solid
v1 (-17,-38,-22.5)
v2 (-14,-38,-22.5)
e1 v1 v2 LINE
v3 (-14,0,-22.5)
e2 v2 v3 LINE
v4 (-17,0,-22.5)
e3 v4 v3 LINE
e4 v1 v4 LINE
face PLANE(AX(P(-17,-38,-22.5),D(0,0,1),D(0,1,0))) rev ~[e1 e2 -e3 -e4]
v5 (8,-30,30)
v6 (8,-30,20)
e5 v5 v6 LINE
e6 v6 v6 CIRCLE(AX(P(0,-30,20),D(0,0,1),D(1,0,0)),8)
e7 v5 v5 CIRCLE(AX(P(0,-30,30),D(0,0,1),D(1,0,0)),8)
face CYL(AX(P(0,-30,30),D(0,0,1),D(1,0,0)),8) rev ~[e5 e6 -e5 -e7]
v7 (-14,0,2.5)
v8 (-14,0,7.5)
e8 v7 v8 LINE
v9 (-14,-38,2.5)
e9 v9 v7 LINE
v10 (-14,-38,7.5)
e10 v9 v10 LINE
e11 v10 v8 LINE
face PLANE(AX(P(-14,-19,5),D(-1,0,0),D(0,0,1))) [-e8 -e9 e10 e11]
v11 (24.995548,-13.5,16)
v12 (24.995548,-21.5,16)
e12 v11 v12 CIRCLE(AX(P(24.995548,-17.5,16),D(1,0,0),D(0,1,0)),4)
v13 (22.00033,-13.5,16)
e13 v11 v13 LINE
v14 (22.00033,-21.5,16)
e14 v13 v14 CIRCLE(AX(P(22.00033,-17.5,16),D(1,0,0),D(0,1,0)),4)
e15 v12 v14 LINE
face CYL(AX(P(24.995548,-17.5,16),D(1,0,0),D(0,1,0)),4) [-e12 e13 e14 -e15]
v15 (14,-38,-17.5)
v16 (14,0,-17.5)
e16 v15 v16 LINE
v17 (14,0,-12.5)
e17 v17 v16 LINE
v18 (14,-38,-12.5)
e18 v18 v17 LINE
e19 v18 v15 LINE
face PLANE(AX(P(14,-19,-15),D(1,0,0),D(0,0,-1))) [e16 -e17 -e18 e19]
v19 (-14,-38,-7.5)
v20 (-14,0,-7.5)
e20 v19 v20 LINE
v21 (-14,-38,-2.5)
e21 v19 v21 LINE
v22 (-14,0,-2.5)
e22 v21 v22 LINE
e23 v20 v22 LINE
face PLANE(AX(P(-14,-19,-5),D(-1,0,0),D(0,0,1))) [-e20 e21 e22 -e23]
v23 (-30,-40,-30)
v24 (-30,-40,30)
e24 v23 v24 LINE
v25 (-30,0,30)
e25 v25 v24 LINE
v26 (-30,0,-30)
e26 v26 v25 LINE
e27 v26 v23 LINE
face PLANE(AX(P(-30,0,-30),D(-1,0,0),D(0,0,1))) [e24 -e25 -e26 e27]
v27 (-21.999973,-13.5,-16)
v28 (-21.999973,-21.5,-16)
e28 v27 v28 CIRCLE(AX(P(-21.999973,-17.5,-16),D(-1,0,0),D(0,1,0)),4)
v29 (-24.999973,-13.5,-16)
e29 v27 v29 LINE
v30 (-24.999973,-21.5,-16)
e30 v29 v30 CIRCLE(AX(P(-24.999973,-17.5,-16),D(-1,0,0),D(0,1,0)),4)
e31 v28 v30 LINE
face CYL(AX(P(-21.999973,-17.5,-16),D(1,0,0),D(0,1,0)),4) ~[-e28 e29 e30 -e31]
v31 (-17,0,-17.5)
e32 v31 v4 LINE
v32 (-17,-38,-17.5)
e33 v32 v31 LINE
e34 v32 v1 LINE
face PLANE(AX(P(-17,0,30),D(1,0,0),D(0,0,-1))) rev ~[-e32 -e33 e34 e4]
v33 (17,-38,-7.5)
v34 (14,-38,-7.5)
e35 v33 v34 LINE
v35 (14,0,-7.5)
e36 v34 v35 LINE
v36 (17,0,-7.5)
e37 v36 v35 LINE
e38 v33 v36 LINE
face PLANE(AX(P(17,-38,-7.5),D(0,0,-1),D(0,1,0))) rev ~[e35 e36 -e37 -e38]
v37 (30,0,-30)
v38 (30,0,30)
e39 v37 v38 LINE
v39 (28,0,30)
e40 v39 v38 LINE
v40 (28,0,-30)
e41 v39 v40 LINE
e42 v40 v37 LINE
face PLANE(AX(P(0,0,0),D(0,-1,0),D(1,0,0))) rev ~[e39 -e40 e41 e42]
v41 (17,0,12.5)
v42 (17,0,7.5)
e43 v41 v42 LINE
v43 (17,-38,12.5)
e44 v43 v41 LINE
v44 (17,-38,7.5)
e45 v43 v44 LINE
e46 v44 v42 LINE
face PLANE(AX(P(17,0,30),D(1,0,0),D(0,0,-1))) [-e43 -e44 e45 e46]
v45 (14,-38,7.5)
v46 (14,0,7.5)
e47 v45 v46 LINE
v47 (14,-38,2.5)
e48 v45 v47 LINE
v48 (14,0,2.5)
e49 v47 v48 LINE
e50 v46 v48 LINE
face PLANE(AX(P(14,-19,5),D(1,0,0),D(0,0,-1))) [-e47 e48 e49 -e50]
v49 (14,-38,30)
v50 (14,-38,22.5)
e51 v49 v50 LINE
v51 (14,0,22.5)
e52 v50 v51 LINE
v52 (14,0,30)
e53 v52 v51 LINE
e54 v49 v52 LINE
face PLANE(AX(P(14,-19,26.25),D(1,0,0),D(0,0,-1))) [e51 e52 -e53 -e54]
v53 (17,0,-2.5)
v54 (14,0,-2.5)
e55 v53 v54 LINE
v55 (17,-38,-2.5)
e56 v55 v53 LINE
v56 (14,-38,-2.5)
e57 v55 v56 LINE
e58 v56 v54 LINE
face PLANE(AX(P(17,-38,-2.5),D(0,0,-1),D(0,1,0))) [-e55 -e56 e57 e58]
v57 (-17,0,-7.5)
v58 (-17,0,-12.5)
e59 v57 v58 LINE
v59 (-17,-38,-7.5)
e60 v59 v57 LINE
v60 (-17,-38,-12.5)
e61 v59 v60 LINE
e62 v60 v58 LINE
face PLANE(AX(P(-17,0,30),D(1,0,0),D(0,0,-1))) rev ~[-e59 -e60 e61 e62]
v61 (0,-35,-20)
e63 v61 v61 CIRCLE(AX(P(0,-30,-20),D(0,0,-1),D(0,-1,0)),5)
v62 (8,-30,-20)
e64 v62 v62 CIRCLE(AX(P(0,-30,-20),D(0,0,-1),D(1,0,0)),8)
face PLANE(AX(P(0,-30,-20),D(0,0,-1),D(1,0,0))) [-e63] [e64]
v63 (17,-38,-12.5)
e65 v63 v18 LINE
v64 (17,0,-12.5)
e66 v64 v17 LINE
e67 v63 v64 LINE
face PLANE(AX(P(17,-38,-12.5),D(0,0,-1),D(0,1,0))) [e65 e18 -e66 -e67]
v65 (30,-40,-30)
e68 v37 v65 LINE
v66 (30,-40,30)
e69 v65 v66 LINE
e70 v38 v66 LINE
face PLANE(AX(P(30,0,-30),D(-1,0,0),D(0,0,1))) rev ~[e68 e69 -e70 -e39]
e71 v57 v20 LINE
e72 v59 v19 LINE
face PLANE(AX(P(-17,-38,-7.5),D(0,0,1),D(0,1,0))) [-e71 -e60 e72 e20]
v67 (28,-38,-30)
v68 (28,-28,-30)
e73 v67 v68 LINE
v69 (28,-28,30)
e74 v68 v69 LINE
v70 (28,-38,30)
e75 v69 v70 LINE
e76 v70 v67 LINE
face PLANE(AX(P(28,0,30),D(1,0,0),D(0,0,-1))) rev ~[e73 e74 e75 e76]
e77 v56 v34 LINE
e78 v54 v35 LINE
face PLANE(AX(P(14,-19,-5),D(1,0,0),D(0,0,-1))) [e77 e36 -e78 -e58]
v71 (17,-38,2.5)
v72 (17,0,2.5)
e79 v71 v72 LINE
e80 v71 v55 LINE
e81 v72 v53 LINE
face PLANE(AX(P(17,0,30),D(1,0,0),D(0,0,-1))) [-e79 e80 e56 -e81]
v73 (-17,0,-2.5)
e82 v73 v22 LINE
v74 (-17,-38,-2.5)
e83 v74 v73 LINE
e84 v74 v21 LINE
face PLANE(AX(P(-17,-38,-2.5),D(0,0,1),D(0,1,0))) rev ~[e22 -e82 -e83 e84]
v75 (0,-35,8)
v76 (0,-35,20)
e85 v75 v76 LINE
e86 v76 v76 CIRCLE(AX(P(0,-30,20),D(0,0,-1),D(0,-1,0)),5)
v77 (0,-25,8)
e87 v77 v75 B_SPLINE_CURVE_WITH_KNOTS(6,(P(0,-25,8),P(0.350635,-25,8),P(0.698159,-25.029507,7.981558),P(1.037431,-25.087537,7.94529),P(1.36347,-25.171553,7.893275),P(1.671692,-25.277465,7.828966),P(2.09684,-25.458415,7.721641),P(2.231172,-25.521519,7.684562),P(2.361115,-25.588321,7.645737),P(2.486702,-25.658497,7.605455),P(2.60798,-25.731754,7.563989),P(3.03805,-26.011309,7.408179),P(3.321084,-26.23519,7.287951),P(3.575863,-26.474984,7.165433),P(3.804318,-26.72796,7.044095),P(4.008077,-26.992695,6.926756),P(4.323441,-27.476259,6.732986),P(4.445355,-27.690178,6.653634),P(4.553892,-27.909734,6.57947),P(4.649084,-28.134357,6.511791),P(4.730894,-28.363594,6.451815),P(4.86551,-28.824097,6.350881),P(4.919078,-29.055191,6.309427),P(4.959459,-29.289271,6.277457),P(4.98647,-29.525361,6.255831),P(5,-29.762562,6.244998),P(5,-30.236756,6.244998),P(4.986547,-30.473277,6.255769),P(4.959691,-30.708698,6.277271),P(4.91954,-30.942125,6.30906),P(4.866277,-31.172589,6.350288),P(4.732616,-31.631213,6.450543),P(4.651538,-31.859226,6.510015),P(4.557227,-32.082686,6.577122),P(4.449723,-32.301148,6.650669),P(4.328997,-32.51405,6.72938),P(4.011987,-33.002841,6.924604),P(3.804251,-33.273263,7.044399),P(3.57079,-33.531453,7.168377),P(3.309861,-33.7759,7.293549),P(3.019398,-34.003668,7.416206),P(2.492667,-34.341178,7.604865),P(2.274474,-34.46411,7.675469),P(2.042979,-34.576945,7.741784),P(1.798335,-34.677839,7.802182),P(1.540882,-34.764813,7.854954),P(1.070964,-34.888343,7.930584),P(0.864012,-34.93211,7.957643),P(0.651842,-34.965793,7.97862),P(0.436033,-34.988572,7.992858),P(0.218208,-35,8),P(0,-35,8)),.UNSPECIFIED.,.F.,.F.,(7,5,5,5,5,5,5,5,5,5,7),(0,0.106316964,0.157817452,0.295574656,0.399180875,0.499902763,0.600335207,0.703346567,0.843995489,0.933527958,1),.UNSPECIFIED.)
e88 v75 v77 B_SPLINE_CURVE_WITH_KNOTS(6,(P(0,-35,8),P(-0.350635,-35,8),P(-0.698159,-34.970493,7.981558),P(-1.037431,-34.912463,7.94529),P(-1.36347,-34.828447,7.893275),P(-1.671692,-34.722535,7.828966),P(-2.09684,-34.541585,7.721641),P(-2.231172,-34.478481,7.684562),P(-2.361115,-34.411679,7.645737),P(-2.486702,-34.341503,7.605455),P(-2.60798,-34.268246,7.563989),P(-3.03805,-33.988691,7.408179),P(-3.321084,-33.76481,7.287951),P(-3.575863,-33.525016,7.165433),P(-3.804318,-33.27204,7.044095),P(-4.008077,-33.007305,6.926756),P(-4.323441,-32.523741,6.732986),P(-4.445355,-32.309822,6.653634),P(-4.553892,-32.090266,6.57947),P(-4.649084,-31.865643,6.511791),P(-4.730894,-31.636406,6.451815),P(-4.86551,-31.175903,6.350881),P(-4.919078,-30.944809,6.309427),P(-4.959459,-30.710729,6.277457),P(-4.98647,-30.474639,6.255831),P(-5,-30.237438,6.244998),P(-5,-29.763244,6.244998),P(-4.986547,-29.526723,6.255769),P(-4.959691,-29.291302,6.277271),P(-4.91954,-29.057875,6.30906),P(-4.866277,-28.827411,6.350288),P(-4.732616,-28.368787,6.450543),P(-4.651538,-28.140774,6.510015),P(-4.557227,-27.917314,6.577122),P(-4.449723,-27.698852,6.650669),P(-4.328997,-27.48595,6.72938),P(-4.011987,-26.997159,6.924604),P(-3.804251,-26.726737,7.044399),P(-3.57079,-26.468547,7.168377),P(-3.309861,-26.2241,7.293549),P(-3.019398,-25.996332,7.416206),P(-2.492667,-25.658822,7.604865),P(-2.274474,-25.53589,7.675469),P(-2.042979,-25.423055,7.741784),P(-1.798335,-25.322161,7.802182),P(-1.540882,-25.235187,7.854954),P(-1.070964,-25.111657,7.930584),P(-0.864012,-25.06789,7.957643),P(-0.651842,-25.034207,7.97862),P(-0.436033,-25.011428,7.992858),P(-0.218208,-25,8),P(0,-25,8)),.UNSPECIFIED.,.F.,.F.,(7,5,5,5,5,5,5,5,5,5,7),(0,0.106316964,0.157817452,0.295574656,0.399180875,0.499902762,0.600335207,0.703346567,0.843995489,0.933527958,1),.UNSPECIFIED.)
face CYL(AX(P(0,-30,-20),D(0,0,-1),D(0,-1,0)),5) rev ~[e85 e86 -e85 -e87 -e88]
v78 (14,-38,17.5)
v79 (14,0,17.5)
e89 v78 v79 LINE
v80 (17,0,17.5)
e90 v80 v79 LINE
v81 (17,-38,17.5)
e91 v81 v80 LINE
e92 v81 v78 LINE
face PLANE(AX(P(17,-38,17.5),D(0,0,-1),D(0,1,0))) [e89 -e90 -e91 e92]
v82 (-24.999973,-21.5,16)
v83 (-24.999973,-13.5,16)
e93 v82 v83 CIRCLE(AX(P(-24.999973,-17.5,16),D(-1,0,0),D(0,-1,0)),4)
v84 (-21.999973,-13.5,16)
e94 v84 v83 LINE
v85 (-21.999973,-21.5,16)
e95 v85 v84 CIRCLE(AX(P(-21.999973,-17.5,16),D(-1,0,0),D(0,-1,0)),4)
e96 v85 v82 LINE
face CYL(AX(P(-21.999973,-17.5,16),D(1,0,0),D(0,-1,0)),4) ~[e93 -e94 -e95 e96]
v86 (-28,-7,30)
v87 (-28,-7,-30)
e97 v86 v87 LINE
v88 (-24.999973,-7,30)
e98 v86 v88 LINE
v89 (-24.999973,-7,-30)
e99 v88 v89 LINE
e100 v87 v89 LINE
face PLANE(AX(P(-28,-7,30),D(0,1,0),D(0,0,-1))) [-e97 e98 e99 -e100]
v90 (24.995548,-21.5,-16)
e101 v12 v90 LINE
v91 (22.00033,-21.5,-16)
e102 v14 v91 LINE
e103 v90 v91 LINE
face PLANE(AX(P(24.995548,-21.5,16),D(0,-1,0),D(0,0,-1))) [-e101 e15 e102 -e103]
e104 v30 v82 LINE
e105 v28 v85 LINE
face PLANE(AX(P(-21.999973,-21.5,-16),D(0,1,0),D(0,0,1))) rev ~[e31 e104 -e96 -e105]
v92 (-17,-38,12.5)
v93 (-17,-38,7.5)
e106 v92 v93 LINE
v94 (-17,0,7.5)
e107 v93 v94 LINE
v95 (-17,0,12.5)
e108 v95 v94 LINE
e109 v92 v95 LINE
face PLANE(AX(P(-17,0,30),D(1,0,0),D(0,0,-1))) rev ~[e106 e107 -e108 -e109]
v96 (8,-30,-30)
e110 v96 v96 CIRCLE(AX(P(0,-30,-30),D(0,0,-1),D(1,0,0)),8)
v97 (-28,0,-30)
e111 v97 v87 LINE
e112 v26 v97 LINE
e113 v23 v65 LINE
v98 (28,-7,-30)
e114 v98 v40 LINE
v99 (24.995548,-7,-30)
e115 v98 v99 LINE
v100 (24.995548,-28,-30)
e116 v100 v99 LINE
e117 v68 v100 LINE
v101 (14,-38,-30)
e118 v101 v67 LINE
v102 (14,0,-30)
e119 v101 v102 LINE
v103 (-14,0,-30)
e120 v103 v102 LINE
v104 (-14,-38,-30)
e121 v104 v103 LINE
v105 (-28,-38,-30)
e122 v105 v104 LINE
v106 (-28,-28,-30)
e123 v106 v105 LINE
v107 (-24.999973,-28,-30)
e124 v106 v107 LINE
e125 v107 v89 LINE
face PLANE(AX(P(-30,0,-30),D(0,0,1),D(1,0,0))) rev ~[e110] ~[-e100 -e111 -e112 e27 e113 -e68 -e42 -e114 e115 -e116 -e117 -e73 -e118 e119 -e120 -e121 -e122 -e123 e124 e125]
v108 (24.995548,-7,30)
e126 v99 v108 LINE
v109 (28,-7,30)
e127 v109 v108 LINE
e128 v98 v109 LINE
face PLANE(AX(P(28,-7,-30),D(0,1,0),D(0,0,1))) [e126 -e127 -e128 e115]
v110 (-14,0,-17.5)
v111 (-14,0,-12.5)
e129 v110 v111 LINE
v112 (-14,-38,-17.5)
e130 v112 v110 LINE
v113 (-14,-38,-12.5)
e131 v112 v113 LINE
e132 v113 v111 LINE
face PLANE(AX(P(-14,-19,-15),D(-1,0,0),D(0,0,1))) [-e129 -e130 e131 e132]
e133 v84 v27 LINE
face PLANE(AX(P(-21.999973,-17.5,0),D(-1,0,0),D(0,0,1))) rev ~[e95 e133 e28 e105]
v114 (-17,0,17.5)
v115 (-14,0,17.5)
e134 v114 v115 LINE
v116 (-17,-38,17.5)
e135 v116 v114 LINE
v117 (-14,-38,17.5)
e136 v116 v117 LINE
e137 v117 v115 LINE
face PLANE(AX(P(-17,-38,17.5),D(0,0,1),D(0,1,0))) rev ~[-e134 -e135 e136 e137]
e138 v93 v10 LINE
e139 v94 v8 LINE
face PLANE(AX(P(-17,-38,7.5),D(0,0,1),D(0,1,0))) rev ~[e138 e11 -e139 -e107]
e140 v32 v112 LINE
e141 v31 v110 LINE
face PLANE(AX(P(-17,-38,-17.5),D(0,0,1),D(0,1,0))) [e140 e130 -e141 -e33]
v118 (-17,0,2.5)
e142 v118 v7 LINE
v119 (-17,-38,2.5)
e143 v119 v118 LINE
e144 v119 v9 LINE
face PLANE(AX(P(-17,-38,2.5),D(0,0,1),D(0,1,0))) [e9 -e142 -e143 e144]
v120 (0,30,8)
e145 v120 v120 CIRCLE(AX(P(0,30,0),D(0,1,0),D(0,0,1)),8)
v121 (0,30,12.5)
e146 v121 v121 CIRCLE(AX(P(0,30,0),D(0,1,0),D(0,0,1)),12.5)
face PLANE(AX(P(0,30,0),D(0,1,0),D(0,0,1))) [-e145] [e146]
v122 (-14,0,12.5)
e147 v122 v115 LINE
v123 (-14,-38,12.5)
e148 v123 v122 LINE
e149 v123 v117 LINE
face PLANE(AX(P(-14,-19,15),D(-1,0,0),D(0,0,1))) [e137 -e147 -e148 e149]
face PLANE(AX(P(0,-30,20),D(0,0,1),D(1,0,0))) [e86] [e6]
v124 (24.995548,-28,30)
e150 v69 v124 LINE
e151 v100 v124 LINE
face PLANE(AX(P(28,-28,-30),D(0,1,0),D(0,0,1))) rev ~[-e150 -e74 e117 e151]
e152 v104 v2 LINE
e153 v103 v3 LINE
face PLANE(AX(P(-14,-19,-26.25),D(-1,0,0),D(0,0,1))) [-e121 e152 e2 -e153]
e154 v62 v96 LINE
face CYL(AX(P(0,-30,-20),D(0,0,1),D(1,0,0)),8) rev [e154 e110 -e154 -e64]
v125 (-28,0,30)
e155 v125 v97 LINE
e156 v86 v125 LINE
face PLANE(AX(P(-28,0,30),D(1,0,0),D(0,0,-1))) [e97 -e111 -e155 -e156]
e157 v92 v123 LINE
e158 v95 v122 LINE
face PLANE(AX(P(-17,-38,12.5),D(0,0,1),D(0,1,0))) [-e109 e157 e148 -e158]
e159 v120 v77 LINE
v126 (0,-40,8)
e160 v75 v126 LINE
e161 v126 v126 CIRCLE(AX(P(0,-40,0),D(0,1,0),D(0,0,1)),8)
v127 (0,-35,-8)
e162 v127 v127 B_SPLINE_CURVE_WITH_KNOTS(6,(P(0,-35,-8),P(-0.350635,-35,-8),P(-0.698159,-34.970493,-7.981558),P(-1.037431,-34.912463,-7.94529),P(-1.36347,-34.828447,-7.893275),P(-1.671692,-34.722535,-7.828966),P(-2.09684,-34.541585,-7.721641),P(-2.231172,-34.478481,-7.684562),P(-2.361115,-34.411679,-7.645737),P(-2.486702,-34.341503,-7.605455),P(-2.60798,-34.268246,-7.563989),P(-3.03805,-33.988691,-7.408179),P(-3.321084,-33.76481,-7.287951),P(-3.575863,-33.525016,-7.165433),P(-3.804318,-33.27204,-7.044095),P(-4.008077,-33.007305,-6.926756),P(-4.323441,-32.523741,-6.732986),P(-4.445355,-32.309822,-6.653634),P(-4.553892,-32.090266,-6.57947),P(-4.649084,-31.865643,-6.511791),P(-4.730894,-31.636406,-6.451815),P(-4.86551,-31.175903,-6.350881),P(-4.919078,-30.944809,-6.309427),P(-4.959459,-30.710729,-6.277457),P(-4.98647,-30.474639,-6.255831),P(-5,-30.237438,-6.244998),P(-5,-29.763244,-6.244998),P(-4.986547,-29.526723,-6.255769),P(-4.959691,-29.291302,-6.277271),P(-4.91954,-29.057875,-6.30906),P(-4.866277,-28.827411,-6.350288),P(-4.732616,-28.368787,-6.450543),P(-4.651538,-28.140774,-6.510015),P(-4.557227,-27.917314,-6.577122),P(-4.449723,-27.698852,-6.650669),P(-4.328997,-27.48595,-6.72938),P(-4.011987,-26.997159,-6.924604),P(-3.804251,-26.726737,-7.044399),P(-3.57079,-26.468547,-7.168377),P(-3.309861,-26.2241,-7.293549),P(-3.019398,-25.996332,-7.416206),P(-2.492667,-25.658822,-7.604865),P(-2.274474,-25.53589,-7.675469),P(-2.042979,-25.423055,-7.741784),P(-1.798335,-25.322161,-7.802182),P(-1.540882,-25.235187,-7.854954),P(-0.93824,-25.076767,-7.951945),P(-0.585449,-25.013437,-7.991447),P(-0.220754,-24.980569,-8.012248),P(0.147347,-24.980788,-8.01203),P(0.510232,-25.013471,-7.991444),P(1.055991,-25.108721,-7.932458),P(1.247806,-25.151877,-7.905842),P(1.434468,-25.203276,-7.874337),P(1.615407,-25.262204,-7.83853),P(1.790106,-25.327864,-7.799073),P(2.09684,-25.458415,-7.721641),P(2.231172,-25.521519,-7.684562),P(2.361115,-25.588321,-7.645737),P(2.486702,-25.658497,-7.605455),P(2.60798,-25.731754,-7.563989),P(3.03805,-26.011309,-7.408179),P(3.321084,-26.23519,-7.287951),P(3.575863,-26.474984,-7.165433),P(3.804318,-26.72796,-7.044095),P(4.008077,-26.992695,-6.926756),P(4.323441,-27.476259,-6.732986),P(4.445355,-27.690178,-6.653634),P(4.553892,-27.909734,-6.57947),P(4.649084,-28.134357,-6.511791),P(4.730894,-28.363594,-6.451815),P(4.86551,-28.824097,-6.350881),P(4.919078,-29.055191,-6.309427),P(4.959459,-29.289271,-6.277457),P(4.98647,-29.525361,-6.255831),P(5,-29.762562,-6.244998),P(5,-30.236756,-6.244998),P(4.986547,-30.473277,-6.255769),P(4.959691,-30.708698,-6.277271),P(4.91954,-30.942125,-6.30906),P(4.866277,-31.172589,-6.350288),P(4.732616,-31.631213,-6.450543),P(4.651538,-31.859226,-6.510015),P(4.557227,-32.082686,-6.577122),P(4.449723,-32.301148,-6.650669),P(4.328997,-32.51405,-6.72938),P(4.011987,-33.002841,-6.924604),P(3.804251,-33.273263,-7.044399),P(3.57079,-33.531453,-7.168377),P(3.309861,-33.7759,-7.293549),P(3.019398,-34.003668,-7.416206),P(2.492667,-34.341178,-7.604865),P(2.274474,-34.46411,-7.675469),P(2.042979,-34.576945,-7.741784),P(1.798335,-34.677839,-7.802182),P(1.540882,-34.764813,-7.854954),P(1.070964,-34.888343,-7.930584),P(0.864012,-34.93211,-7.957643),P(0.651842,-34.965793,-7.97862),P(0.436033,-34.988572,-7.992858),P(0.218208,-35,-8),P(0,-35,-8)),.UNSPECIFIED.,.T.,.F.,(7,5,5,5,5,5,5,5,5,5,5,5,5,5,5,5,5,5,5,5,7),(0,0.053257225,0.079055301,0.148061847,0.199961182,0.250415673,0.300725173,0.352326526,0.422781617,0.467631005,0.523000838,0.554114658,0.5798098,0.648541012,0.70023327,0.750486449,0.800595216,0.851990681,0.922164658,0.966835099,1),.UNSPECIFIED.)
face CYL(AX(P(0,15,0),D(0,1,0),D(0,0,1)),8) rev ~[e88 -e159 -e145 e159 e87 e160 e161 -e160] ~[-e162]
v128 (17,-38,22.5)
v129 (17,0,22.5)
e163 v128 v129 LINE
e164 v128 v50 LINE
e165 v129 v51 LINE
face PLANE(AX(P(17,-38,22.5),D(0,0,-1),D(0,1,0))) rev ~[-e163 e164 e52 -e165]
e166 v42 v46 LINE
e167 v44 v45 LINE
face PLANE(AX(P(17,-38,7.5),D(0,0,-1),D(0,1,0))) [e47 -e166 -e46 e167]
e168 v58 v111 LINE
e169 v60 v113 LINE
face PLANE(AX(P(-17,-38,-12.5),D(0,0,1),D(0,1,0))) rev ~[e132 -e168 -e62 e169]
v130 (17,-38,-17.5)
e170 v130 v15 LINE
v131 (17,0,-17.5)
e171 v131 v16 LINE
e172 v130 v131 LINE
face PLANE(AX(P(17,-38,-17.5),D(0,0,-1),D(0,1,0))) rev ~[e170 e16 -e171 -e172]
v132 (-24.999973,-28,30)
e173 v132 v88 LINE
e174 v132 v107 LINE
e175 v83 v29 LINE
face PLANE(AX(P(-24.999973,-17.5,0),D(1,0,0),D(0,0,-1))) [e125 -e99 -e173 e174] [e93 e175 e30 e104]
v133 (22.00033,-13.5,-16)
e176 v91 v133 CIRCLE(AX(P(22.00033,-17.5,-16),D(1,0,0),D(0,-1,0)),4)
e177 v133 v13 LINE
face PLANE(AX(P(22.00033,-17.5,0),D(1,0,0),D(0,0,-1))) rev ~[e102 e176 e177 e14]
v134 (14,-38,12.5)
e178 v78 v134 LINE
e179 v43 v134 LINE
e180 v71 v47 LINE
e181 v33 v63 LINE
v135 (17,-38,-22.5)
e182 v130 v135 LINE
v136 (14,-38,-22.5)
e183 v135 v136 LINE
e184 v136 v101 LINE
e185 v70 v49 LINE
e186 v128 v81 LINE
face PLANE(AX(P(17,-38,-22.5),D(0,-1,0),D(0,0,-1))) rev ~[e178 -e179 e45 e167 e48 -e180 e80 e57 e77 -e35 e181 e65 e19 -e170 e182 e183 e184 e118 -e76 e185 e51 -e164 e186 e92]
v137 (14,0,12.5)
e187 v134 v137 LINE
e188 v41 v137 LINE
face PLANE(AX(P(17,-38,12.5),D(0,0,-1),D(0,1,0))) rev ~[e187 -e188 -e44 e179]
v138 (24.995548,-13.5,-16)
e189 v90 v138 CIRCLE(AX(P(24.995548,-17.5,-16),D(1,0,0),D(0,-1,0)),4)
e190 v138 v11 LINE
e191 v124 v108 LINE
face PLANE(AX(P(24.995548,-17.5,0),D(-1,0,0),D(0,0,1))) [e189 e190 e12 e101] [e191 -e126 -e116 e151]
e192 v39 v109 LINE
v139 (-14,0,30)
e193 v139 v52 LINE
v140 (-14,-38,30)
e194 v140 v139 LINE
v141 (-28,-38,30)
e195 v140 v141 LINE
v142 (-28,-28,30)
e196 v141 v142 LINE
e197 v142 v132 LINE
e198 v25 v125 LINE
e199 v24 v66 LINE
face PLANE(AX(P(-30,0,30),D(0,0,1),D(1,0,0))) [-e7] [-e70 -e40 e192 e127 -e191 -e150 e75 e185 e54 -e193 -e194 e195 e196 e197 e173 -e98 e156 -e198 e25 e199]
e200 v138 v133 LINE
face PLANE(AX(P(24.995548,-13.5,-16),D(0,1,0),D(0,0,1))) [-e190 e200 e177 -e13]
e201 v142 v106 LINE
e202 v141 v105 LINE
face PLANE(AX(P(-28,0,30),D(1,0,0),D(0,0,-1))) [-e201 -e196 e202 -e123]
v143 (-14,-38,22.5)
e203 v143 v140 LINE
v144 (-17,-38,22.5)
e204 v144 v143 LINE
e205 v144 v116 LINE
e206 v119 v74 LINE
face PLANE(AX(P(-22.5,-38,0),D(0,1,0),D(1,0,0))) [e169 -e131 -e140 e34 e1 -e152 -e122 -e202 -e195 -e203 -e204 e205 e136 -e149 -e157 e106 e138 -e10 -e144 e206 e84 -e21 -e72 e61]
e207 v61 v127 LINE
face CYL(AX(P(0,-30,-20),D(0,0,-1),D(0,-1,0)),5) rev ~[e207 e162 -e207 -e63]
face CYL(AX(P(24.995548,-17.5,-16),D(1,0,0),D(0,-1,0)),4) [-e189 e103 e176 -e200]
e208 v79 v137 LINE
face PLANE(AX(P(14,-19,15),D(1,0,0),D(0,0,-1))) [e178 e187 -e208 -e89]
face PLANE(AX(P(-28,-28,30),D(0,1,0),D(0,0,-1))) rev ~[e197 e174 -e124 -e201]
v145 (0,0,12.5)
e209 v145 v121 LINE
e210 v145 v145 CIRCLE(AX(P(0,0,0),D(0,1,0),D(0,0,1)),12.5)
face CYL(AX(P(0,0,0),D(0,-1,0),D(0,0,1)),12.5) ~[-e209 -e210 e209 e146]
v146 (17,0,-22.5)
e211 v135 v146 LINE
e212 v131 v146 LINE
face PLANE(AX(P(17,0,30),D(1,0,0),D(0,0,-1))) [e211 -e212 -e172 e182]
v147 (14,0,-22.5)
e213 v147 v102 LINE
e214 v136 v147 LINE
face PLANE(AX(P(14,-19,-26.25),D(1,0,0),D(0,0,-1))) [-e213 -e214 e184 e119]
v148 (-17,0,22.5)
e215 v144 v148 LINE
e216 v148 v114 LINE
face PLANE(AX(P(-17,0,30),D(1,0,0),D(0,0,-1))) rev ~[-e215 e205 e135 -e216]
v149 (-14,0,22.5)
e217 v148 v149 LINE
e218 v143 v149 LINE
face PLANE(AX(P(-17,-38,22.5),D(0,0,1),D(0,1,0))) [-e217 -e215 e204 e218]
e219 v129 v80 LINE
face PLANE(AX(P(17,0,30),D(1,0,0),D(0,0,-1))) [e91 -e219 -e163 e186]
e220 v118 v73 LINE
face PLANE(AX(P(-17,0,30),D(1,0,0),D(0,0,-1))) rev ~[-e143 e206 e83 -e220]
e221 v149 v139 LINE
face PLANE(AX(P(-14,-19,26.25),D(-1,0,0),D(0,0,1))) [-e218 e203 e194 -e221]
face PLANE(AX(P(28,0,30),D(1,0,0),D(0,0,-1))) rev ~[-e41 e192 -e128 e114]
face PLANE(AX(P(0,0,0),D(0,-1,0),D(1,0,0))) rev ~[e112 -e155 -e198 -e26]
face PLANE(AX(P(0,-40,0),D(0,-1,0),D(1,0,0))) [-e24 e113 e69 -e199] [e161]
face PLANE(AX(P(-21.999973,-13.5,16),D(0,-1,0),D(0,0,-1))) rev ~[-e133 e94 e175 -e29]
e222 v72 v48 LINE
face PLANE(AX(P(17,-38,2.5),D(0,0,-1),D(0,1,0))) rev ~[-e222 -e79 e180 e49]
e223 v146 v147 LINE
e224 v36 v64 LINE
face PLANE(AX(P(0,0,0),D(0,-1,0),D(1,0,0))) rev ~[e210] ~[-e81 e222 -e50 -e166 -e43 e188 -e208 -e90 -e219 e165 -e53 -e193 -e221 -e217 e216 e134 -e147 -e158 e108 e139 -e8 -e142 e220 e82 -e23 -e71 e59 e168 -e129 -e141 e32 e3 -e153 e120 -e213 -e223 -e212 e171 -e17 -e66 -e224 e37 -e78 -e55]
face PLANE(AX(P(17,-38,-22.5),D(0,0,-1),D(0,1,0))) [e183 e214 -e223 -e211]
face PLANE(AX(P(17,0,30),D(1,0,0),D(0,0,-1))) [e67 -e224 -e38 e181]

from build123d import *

# Parameters (mm, degrees)
ESBO_O1_R                = 12.5
RESSALTO_EXTRUS_O1_DEPTH = 30
ESBO_O2_R                = 8
CORTE_EXTRUS_O1_DEPTH    = 15
ESBO_O3_W                = 3
ESBO_O3_H                = 5
CORTE_EXTRUS_O2_DEPTH    = 6.5
ESBO_O4_W                = 60
ESBO_O4_H                = 60
RESSALTO_EXTRUS_O2_DEPTH = 40
ESBO_O5_W                = 11
ESBO_O5_H                = 60
CORTE_EXTRUS_O3_DEPTH    = 35
ESBO_O6_W                = 11
ESBO_O6_H                = 60
CORTE_EXTRUS_O4_DEPTH    = 38
ESBO_O7_W                = 60
ESBO_O7_H                = 21
RESSALTO_EXTRUS_O3_DEPTH = 3.00002654
ESBO_O8_W                = 60
ESBO_O8_H                = 21
RESSALTO_EXTRUS_O4_DEPTH = 3.004451555
RESSALTO_EXTRUS_O5_DEPTH = 2.995218695
RESSALTO_EXTRUS_O6_START = 3
RESSALTO_EXTRUS_O6_DEPTH = 3
ESBO_O15_R               = 8
CORTE_EXTRUS_O5_DEPTH    = 70.462219947
ESBO_O19_W               = 5
ESBO_O19_H               = 38
ESBO_O19_W_2             = 7.5
CORTE_EXTRUS_O7_DEPTH    = 3
ESBO_O20_W               = 7.5
ESBO_O20_H               = 38
ESBO_O20_W_2             = 5
CORTE_EXTRUS_O8_DEPTH    = 3
ESBO_O21_R               = 8
CORTE_EXTRUS_O9_DEPTH    = 10
CORTE_EXTRUS_O10_START   = -10
ESBO_O22_R               = 8
CORTE_EXTRUS_O10_DEPTH   = 10
ESBO_O24_R               = 5
CORTE_EXTRUS_O11_DEPTH   = 71.710678119


with BuildPart() as part:
    # Esboço1 → Ressalto-extrusão1 (new body)
    with BuildSketch(Plane(origin=(0, 0, 0), x_dir=(1, 0, 0), z_dir=(0, 1, 0))):
        with Locations(Location((0, 0, 0), (0, 0, 270))):
            Circle(ESBO_O1_R)
    extrude(amount=RESSALTO_EXTRUS_O1_DEPTH)

    # Esboço2 → Corte-extrusão1 (cut)
    with BuildSketch(Plane(origin=(0, 30, 0), x_dir=(1, 0, 0), z_dir=(0, 1, 0))):
        with Locations(Location((0, 0, 0), (0, 0, 270))):
            Circle(ESBO_O2_R)
    extrude(amount=-CORTE_EXTRUS_O1_DEPTH, mode=Mode.SUBTRACT)

    # Esboço3 → Corte-extrusão2 (cut)
    with BuildSketch(Plane.XZ):
        Rectangle(ESBO_O3_W, ESBO_O3_H)
    extrude(amount=-CORTE_EXTRUS_O2_DEPTH, mode=Mode.SUBTRACT)

    # Esboço4 → Ressalto-extrusão2 (add)
    with BuildSketch(Plane.XZ):
        Rectangle(ESBO_O4_W, ESBO_O4_H)
    extrude(amount=RESSALTO_EXTRUS_O2_DEPTH)

    # Esboço5 → Corte-extrusão3 (cut)
    with BuildSketch(Plane(origin=(0, 0, 0), x_dir=(1, 0, 0), z_dir=(0, 1, 0))):
        with Locations((-22.5, 0)):
            Rectangle(ESBO_O5_W, ESBO_O5_H)
        with Locations((22.5, 0)):
            Rectangle(ESBO_O5_W, ESBO_O5_H)
    extrude(amount=-CORTE_EXTRUS_O3_DEPTH, mode=Mode.SUBTRACT)

    # Esboço6 → Corte-extrusão4 (cut)
    with BuildSketch(Plane(origin=(0, 0, 0), x_dir=(1, 0, 0), z_dir=(0, 1, 0))):
        with Locations((-22.5, 0)):
            Rectangle(ESBO_O6_W, ESBO_O6_H)
        with Locations((22.5, 0)):
            Rectangle(ESBO_O6_W, ESBO_O6_H)
    extrude(amount=-CORTE_EXTRUS_O4_DEPTH, mode=Mode.SUBTRACT)

    # Esboço7 → Ressalto-extrusão3 (add)
    with BuildSketch(Plane(origin=(-28, 0, 0), x_dir=(0, 0, -1), z_dir=(1, 0, 0))):
        with Locations((0, -17.5)):
            Rectangle(ESBO_O7_W, ESBO_O7_H)
    extrude(amount=RESSALTO_EXTRUS_O3_DEPTH)

    # Esboço8 → Ressalto-extrusão4 (add)
    with BuildSketch(Plane.ZY.offset(-28)):
        with Locations((0, -17.5)):
            Rectangle(ESBO_O8_W, ESBO_O8_H)
    extrude(amount=RESSALTO_EXTRUS_O4_DEPTH)

    # Esboço9 → Ressalto-extrusão5 (add)
    with BuildSketch(Plane.ZY.offset(-24.995548445)):
        with BuildLine():
            Line((-16, -13.5), (16, -13.5))
            ThreePointArc((16, -13.5), (20, -17.5), (16, -21.5))
            Line((16, -21.5), (-16, -21.5))
            ThreePointArc((-16, -21.5), (-20, -17.5), (-16, -13.5))
        make_face()
    extrude(amount=RESSALTO_EXTRUS_O5_DEPTH)

    # Esboço14 → Ressalto-extrusão6 (add)
    with BuildSketch(Plane(origin=(-24.99997346, 0, 0), x_dir=(0, 0, -1), z_dir=(1, 0, 0)).offset(RESSALTO_EXTRUS_O6_START)):
        with BuildLine():
            Line((-16, -13.5), (16, -13.5))
            ThreePointArc((16, -13.5), (20, -17.5), (16, -21.5))
            Line((16, -21.5), (-16, -21.5))
            ThreePointArc((-16, -21.5), (-20, -17.5), (-16, -13.5))
        make_face()
    extrude(amount=-RESSALTO_EXTRUS_O6_DEPTH)

    # Esboço15 → Corte-extrusão5 (cut, through all)
    with BuildSketch(Plane(origin=(0, 15, 0), x_dir=(1, 0, 0), z_dir=(0, 1, 0))):
        with Locations(Location((0, 0, 0), (0, 0, 270))):
            Circle(ESBO_O15_R)
    extrude(amount=-CORTE_EXTRUS_O5_DEPTH, mode=Mode.SUBTRACT)

    # Esboço19 → Corte-extrusão7 (cut)
    with BuildSketch(Plane.ZY.offset(17)):
        with Locations((-15, -19)):
            Rectangle(ESBO_O19_W, ESBO_O19_H)
        with Locations((-26.25, -19)):
            Rectangle(ESBO_O19_W_2, ESBO_O19_H)
        with Locations((-5, -19)):
            Rectangle(ESBO_O19_W, ESBO_O19_H)
        with Locations((5, -19)):
            Rectangle(ESBO_O19_W, ESBO_O19_H)
        with Locations((15, -19)):
            Rectangle(ESBO_O19_W, ESBO_O19_H)
        with Locations((26.25, -19)):
            Rectangle(ESBO_O19_W_2, ESBO_O19_H)
    extrude(amount=-CORTE_EXTRUS_O7_DEPTH, mode=Mode.SUBTRACT)

    # Esboço20 → Corte-extrusão8 (cut)
    with BuildSketch(Plane(origin=(17, 0, 0), x_dir=(0, 0, -1), z_dir=(1, 0, 0))):
        with Locations((-26.25, -19)):
            Rectangle(ESBO_O20_W, ESBO_O20_H)
        with Locations((-15, -19)):
            Rectangle(ESBO_O20_W_2, ESBO_O20_H)
        with Locations((-5, -19)):
            Rectangle(ESBO_O20_W_2, ESBO_O20_H)
        with Locations((5, -19)):
            Rectangle(ESBO_O20_W_2, ESBO_O20_H)
        with Locations((15, -19)):
            Rectangle(ESBO_O20_W_2, ESBO_O20_H)
        with Locations((26.25, -19)):
            Rectangle(ESBO_O20_W, ESBO_O20_H)
    extrude(amount=-CORTE_EXTRUS_O8_DEPTH, mode=Mode.SUBTRACT)

    # Esboço21 → Corte-extrusão9 (cut)
    with BuildSketch(Plane.XY.offset(30)):
        with Locations((0, -30)):
            Circle(ESBO_O21_R)
    extrude(amount=-CORTE_EXTRUS_O9_DEPTH, mode=Mode.SUBTRACT)

    # Esboço22 → Corte-extrusão10 (cut)
    with BuildSketch(Plane(origin=(0, 0, -30), x_dir=(-1, 0, 0), z_dir=(0, 0, -1)).offset(CORTE_EXTRUS_O10_START)):
        with Locations(Location((0, -30, 0), (0, 0, 180))):
            Circle(ESBO_O22_R)
    extrude(amount=CORTE_EXTRUS_O10_DEPTH, mode=Mode.SUBTRACT)

    # Esboço24 → Corte-extrusão11 (cut, through all)
    with BuildSketch(Plane(origin=(0, 0, -20), x_dir=(-1, 0, 0), z_dir=(0, 0, -1))):
        with Locations(Location((0, -30, 0), (0, 0, 270))):
            Circle(ESBO_O24_R)
    extrude(amount=-CORTE_EXTRUS_O11_DEPTH, mode=Mode.SUBTRACT)


solid = part.part
